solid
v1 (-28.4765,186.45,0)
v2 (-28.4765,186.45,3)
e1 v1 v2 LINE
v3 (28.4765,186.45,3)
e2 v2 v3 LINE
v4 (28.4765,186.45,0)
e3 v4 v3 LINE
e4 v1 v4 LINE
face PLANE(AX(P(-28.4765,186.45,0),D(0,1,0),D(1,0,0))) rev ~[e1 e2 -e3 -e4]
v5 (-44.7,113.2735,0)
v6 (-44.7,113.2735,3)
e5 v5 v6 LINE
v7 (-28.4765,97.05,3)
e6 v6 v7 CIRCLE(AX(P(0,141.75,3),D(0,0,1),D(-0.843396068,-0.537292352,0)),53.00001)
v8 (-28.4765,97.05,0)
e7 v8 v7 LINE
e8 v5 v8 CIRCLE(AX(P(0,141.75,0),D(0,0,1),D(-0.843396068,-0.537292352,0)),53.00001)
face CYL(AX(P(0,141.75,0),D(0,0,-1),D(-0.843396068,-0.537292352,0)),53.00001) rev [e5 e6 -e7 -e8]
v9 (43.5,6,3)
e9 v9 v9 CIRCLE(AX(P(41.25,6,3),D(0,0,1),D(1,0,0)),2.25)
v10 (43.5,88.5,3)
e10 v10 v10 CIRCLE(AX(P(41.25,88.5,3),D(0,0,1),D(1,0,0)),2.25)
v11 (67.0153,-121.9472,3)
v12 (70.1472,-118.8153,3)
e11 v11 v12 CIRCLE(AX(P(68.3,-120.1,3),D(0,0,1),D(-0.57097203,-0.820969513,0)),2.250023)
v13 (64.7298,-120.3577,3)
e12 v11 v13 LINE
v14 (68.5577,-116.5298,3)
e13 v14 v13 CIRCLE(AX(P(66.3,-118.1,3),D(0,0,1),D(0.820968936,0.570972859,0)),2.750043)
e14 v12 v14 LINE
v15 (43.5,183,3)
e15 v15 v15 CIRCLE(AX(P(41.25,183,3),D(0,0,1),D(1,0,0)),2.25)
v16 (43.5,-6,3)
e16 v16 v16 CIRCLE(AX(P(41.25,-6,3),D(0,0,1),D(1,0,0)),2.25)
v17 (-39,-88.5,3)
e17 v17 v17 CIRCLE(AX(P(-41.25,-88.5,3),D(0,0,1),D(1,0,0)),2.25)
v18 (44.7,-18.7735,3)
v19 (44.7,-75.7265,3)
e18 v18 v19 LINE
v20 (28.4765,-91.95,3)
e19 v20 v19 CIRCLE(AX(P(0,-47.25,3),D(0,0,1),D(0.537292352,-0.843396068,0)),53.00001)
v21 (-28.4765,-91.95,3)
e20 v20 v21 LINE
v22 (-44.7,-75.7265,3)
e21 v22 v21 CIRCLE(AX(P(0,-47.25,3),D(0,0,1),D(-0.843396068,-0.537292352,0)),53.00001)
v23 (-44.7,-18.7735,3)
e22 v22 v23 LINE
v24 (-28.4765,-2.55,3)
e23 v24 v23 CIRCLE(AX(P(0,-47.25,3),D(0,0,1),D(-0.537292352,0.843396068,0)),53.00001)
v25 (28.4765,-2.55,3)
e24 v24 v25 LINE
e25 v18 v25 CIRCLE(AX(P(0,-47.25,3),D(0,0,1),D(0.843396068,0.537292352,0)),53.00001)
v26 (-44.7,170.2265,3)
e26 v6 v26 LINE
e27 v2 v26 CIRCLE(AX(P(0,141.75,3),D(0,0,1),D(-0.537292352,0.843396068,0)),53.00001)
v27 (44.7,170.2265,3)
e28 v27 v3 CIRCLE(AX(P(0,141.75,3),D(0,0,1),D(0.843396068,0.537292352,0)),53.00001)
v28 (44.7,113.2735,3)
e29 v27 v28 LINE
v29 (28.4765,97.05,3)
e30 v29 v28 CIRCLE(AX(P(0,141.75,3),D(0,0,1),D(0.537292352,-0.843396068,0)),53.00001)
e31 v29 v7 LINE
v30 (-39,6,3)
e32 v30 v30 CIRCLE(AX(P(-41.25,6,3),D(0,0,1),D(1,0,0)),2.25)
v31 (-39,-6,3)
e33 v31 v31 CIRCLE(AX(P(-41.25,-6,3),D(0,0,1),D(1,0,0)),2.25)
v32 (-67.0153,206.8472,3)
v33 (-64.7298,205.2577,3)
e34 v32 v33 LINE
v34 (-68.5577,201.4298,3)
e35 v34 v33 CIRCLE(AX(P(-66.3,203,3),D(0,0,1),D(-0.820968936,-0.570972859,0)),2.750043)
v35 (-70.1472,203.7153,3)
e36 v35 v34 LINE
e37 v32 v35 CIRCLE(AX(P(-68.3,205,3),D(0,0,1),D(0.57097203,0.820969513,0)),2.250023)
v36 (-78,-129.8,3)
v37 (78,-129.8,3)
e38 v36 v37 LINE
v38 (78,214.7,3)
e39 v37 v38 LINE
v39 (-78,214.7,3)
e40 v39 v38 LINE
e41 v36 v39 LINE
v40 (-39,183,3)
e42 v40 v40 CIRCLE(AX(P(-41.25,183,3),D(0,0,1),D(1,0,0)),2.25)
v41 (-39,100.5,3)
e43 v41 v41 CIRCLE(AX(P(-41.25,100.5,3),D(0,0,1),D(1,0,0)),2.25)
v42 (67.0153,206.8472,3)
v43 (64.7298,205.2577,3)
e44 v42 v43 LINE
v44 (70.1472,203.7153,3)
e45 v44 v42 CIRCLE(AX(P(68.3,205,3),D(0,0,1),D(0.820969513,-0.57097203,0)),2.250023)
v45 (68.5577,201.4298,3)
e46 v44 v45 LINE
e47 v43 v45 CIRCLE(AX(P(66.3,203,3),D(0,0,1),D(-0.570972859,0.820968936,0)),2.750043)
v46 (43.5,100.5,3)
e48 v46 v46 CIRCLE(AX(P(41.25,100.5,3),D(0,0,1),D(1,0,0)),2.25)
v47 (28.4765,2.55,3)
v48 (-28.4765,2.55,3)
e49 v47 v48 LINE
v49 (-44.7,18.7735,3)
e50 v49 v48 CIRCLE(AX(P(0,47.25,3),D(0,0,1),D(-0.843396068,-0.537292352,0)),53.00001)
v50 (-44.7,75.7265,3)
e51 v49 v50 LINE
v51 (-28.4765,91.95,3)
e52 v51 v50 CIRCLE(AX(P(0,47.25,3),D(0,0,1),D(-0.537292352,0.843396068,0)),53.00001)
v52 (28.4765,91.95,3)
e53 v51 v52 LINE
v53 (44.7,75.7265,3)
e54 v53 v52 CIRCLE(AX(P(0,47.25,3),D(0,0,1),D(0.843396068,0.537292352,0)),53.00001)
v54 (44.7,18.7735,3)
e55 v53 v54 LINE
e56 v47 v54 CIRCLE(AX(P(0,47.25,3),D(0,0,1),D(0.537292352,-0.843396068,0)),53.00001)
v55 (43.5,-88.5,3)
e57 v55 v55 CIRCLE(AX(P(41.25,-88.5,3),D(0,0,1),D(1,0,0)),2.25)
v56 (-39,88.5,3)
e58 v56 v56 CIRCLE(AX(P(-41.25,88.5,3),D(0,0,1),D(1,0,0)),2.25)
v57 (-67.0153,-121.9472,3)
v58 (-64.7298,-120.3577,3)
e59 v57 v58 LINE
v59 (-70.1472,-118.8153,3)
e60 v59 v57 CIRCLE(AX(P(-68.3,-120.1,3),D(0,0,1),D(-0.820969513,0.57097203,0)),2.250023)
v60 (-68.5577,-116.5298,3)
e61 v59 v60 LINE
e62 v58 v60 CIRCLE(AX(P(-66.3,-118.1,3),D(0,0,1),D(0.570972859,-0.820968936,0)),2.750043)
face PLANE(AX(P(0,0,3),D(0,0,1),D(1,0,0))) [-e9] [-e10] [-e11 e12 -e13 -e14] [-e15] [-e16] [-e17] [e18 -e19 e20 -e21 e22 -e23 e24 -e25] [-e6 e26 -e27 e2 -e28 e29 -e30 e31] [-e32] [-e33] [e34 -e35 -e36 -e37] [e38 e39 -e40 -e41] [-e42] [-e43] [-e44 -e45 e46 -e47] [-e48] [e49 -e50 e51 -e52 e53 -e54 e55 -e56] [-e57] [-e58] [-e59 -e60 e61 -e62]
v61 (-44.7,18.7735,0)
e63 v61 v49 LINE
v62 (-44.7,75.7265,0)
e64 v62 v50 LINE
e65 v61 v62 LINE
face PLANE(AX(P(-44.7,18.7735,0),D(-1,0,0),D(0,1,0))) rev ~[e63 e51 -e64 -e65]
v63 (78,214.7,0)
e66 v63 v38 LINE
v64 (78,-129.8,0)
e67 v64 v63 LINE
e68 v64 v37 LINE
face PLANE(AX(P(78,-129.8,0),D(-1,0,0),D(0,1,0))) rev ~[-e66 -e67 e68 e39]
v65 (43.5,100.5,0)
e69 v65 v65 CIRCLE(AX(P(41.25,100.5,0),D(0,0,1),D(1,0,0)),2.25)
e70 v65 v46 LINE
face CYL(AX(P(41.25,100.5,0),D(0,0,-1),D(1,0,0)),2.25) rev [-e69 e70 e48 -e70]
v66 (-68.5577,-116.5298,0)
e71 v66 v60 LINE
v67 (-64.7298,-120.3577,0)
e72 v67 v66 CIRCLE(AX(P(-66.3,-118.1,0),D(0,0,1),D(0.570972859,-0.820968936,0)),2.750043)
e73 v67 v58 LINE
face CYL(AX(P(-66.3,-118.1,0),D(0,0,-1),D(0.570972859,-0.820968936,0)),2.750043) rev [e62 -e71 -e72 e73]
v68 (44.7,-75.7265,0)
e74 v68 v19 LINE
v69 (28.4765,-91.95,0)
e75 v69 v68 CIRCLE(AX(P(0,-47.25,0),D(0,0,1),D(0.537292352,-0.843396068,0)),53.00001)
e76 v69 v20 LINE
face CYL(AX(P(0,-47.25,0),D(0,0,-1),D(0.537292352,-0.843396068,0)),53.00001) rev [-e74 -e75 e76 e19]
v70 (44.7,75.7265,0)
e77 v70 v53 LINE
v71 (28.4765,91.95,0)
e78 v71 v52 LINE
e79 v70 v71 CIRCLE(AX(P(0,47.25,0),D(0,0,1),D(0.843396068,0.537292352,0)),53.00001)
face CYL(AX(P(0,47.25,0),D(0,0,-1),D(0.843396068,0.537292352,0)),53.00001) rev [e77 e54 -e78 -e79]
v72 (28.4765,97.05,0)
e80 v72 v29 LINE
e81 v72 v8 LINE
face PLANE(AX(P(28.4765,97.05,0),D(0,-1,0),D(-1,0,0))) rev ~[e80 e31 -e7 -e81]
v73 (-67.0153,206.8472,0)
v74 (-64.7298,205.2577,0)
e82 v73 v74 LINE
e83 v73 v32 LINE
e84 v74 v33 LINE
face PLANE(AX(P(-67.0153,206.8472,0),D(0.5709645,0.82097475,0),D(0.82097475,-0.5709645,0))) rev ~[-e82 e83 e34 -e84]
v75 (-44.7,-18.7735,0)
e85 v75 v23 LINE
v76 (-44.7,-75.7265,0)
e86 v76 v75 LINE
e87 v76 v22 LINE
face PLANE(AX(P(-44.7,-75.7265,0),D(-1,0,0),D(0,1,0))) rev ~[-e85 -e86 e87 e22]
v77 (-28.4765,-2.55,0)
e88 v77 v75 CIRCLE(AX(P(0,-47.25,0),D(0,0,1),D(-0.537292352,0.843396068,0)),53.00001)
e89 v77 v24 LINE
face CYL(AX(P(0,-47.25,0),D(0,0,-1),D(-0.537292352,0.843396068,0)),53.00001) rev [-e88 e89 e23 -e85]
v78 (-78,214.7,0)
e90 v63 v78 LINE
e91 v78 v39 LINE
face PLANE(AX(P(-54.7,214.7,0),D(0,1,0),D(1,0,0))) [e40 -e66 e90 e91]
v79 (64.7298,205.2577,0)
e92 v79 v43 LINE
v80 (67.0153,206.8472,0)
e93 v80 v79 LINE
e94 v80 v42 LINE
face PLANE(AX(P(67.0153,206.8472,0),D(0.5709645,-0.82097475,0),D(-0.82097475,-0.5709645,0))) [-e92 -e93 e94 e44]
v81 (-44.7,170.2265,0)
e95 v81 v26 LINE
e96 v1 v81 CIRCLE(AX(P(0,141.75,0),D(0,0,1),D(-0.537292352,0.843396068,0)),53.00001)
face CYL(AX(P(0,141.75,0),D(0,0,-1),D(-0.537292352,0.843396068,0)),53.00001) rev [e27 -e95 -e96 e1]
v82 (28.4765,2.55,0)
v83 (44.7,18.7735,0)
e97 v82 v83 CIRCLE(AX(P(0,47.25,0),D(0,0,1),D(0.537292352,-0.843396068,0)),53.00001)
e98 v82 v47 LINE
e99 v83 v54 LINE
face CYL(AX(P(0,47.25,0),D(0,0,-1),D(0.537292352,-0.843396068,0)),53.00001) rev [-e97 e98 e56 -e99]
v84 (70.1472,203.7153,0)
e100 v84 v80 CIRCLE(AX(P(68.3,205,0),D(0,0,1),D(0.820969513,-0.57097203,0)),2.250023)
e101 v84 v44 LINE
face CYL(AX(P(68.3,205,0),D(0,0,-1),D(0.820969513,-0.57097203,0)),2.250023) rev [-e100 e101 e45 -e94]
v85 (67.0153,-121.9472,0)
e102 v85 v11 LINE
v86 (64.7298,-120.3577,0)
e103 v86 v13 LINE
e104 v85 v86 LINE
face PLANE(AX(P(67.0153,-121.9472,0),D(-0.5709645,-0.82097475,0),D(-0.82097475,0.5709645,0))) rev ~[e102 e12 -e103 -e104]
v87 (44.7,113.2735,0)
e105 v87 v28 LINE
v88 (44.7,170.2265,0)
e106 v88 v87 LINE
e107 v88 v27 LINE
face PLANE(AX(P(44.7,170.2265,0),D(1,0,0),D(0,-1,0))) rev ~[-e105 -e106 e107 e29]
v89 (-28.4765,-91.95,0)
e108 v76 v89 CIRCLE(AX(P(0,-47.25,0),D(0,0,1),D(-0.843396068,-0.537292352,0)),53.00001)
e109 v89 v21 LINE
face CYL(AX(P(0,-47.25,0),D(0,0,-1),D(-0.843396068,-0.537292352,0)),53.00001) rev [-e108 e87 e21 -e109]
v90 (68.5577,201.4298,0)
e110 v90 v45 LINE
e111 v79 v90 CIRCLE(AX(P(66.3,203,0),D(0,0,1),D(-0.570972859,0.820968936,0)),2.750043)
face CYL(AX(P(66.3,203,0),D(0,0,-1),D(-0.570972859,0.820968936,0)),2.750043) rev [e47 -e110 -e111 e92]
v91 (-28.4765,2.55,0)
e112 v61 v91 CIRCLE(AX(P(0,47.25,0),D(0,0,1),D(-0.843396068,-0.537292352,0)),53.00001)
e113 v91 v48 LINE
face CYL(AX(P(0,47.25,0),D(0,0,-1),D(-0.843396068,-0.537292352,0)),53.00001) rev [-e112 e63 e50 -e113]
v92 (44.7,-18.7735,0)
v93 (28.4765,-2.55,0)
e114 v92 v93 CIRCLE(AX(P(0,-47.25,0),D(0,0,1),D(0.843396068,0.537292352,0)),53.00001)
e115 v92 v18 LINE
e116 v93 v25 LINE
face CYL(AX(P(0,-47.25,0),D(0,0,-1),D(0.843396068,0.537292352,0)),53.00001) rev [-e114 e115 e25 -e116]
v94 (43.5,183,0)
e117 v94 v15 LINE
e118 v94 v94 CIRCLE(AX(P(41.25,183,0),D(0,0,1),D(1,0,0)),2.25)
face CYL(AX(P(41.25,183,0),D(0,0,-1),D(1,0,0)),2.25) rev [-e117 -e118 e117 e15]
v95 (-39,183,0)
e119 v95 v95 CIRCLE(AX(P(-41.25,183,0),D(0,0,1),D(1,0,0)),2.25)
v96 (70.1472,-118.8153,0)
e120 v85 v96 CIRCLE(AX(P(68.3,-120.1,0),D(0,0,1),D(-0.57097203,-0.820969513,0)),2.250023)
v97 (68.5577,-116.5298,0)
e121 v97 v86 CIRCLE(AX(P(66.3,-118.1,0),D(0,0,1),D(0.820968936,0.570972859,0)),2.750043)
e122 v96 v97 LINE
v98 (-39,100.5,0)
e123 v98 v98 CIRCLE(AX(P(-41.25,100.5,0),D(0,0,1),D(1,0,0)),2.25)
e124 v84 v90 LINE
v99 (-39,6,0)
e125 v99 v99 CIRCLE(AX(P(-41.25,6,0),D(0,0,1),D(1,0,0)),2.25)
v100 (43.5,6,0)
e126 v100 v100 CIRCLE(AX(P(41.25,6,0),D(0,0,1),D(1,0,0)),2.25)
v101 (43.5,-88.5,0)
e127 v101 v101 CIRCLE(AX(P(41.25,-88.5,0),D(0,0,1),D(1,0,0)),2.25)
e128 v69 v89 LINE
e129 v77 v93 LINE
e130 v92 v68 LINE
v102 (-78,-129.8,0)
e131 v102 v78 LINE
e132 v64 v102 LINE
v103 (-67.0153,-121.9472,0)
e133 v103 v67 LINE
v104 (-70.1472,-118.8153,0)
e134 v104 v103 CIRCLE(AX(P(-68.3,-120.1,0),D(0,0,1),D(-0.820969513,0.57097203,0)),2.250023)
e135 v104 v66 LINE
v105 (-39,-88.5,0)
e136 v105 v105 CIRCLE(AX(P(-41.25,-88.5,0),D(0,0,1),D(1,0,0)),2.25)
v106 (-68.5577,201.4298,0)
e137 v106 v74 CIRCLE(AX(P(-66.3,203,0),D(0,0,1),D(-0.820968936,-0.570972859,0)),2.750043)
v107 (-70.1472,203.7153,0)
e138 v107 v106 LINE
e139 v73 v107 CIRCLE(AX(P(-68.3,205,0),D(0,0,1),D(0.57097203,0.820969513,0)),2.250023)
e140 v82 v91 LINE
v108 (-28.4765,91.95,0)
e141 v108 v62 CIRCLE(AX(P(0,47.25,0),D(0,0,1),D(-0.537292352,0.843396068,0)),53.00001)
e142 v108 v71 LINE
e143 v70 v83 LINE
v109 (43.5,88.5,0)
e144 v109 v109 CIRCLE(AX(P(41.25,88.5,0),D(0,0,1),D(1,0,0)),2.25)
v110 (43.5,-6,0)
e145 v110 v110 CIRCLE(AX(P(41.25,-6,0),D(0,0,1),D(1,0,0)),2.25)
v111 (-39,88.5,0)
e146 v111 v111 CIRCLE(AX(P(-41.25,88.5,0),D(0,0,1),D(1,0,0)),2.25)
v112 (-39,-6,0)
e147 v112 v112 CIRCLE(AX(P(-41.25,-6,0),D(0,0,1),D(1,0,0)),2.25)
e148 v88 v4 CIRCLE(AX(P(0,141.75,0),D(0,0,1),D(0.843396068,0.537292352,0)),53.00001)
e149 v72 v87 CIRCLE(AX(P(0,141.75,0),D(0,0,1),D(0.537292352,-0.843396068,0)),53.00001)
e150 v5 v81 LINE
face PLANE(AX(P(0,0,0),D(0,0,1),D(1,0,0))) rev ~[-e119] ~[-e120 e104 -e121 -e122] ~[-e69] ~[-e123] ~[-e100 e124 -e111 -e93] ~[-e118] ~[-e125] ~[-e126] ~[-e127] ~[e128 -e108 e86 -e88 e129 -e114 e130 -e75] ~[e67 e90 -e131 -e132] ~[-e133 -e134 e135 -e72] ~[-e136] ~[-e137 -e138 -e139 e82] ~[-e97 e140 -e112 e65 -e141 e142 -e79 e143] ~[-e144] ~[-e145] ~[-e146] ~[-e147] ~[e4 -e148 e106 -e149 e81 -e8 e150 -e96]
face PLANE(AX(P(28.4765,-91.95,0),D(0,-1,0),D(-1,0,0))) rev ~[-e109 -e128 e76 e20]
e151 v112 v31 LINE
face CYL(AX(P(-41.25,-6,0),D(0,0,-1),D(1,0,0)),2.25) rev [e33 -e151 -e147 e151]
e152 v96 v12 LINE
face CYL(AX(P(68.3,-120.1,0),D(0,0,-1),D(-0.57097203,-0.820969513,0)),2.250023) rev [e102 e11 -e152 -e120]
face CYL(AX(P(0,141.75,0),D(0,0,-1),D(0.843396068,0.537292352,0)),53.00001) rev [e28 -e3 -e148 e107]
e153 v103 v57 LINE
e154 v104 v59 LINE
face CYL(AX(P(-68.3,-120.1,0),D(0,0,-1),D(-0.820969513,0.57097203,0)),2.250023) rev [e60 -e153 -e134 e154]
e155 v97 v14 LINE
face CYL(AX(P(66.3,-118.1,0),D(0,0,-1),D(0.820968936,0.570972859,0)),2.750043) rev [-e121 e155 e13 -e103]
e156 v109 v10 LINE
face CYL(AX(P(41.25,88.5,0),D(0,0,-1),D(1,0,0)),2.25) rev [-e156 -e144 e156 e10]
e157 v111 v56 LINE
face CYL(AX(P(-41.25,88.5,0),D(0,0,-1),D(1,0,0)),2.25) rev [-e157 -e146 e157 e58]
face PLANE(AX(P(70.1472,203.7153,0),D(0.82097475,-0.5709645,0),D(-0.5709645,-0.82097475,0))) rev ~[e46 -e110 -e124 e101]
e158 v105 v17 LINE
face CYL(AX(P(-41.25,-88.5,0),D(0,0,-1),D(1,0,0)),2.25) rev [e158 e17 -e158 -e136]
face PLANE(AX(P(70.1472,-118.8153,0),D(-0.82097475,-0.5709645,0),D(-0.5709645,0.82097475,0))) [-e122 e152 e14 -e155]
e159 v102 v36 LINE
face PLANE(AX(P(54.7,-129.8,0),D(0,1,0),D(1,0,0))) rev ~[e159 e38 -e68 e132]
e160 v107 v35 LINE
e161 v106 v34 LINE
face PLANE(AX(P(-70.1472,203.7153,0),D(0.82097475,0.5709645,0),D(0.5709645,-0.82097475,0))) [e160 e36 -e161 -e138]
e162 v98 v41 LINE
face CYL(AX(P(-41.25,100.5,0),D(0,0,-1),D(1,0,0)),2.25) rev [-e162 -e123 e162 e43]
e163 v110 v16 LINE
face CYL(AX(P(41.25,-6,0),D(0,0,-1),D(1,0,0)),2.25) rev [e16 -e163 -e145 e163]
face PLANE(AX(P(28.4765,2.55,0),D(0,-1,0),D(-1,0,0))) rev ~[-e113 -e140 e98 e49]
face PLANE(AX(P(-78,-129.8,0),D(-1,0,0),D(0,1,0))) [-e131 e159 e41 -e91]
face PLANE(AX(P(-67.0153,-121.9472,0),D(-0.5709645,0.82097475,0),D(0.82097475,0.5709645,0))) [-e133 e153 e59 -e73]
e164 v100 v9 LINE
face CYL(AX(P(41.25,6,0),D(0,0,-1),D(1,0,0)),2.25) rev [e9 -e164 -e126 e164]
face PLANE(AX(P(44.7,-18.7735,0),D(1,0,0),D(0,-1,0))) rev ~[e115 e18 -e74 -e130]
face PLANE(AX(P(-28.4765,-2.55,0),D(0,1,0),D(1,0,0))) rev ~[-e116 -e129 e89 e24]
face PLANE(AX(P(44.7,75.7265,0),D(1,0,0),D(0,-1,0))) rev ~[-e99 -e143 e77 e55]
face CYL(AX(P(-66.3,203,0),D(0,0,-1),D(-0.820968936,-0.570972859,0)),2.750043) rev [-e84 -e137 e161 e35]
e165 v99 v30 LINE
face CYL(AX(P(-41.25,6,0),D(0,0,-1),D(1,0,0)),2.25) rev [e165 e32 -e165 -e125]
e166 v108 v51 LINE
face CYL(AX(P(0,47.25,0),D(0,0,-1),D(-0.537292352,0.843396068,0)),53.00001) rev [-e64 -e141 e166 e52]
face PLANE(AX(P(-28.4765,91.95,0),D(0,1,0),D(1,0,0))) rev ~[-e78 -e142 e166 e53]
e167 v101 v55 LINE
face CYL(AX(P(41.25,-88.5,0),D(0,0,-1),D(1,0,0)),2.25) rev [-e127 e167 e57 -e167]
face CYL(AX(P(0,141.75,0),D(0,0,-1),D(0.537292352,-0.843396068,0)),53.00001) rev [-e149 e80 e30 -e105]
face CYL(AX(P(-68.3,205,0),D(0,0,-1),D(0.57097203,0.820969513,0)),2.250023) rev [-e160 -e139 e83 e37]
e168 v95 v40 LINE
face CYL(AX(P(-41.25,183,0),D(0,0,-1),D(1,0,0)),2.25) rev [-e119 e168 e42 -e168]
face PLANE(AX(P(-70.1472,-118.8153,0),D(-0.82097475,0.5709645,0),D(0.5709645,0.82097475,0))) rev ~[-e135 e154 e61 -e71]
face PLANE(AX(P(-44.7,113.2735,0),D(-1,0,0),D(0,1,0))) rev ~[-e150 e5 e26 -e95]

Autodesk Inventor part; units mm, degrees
ref_plane "YZ Plane" through (0, 0, 0) normal (1, 0, 0) x (0, 1, 0)
ref_plane "XZ Plane" through (0, 0, 0) normal (0, 1, 0) x (-1, 0, 0)
ref_plane "XY Plane" through (0, 0, 0) normal (0, 0, 1) x (1, 0, 0)
sketch "Sketch1" plane through (0, 0, 0) normal (0, 0, 1) x (1, 0, 0)
  line L0 (-28.4765, -2.55) -> (28.4765, -2.55)
  arc A0 (44.7, -18.7735) -> (28.4765, -2.55) centre (0, -47.25) ccw
  line L1 (44.7, -18.7735) -> (44.7, -75.7265)
  arc A1 (28.4765, -91.95) -> (44.7, -75.7265) centre (0, -47.25) ccw
  line L2 (28.4765, -91.95) -> (-28.4765, -91.95)
  arc A2 (-44.7, -75.7265) -> (-28.4765, -91.95) centre (0, -47.25) ccw
  line L3 (-44.7, -75.7265) -> (-44.7, -18.7735)
  arc A3 (-28.4765, -2.55) -> (-44.7, -18.7735) centre (0, -47.25) ccw
  line L4 (-28.4765, 91.95) -> (28.4765, 91.95)
  arc A4 (44.7, 75.7265) -> (28.4765, 91.95) centre (0, 47.25) ccw
  line L5 (44.7, 75.7265) -> (44.7, 18.7735)
  arc A5 (28.4765, 2.55) -> (44.7, 18.7735) centre (0, 47.25) ccw
  line L6 (28.4765, 2.55) -> (-28.4765, 2.55)
  arc A6 (-44.7, 18.7735) -> (-28.4765, 2.55) centre (0, 47.25) ccw
  line L7 (-44.7, 18.7735) -> (-44.7, 75.7265)
  arc A7 (-28.4765, 91.95) -> (-44.7, 75.7265) centre (0, 47.25) ccw
  line L8 (-28.4765, 186.45) -> (28.4765, 186.45)
  arc A8 (44.7, 170.2265) -> (28.4765, 186.45) centre (0, 141.75) ccw
  line L9 (44.7, 170.2265) -> (44.7, 113.2735)
  arc A9 (28.4765, 97.05) -> (44.7, 113.2735) centre (0, 141.75) ccw
  line L10 (28.4765, 97.05) -> (-28.4765, 97.05)
  arc A10 (-44.7, 113.2735) -> (-28.4765, 97.05) centre (0, 141.75) ccw
  line L11 (-44.7, 113.2735) -> (-44.7, 170.2265)
  arc A11 (-28.4765, 186.45) -> (-44.7, 170.2265) centre (0, 141.75) ccw
  circle A12 centre (-41.25, -88.5) radius 2.25
  circle A13 centre (41.25, -88.5) radius 2.25
  circle A14 centre (41.25, -6) radius 2.25
  circle A15 centre (-41.25, -6) radius 2.25
  circle A16 centre (-41.25, 6) radius 2.25
  circle A17 centre (41.25, 6) radius 2.25
  circle A18 centre (41.25, 88.5) radius 2.25
  circle A19 centre (-41.25, 88.5) radius 2.25
  circle A20 centre (41.25, 183) radius 2.25
  circle A21 centre (41.25, 100.5) radius 2.25
  circle A22 centre (-41.25, 100.5) radius 2.25
  circle A23 centre (-41.25, 183) radius 2.25
  arc A24 (15.0245, 209.46) -> (15.0245, 194.54) centre (17.5, 202) ccw
  line L12 (15.0245, 209.46) -> (19.9755, 209.46)
  arc A25 (19.9755, 194.54) -> (19.9755, 209.46) centre (17.5, 202) ccw
  line L13 (19.9755, 194.54) -> (15.0245, 194.54)
  arc A26 (-15.0245, 194.54) -> (-15.0245, 209.46) centre (-17.5, 202) ccw
  line L14 (-15.0245, 194.54) -> (-19.9755, 194.54)
  arc A27 (-19.9755, 209.46) -> (-19.9755, 194.54) centre (-17.5, 202) ccw
  line L15 (-19.9755, 209.46) -> (-15.0245, 209.46)
  line L16 (-54.7, 214.7) -> (54.7, 214.7)
  line L17 (54.7, -129.8) -> (-54.7, -129.8)
  line L18 (-78, -129.8) -> (78, -129.8)
  line L19 (-78, -129.8) -> (-78, 214.7)
  arc A28 (-64.7298, -120.3577) -> (-68.5577, -116.5298) centre (-66.3, -118.1) ccw
  arc A29 (-70.1472, -118.8153) -> (-67.0153, -121.9472) centre (-68.3, -120.1) ccw
  line L20 (-67.0153, -121.9472) -> (-64.7298, -120.3577)
  line L21 (-70.1472, -118.8153) -> (-68.5577, -116.5298)
  arc A30 (68.5577, -116.5298) -> (64.7298, -120.3577) centre (66.3, -118.1) ccw
  arc A31 (67.0153, -121.9472) -> (70.1472, -118.8153) centre (68.3, -120.1) ccw
  line L22 (67.0153, -121.9472) -> (64.7298, -120.3577)
  line L23 (70.1472, -118.8153) -> (68.5577, -116.5298)
  line L24 (78, -129.8) -> (78, 214.7)
  arc A32 (-68.5577, 201.4298) -> (-64.7298, 205.2577) centre (-66.3, 203) ccw
  arc A33 (-67.0153, 206.8472) -> (-70.1472, 203.7153) centre (-68.3, 205) ccw
  line L25 (-67.0153, 206.8472) -> (-64.7298, 205.2577)
  line L26 (-70.1472, 203.7153) -> (-68.5577, 201.4298)
  line L27 (70.1472, 203.7153) -> (68.5577, 201.4298)
  arc A34 (64.7298, 205.2577) -> (68.5577, 201.4298) centre (66.3, 203) ccw
  line L28 (67.0153, 206.8472) -> (64.7298, 205.2577)
  arc A35 (70.1472, 203.7153) -> (67.0153, 206.8472) centre (68.3, 205) ccw
  line L29 (-78, 214.7) -> (78, 214.7)
  point P0 (-54.7, -129.8)
  point P1 (54.7, -129.8)
  point P2 (0, 205.2577)
  dimension "d197" = 156
  dimension "d199" = 344.5
  dimension "d221" = 344.5
  dimension "d224" = 9.7
  dimension "d225" = 9.7
  dimension "d228" = 11.7
  dimension "d229" = 11.7
  dimension "d232" = 5.5
  dimension "d233" = 4.5
extrude "Extrusion1" add sketch "Sketch1" along normal blind 3
sketch "Sketch2" plane through (0, 0, 3) normal (0, 0, 1) x (1, 0, 0)
  line L0 (28.4765, 97.05) -> (-28.4765, 97.05) projected
  arc A0 (-44.7, 113.2735) -> (-28.4765, 97.05) centre (0, 141.75) ccw projected
  line L1 (-44.7, 113.2735) -> (-44.7, 170.2265) projected
  arc A1 (-28.4765, 186.45) -> (-44.7, 170.2265) centre (0, 141.75) ccw projected
  line L2 (-28.4765, 186.45) -> (28.4765, 186.45) projected
  arc A2 (44.7, 170.2265) -> (28.4765, 186.45) centre (0, 141.75) ccw projected
  line L3 (44.7, 170.2265) -> (44.7, 113.2735) projected
  arc A3 (28.4765, 97.05) -> (44.7, 113.2735) centre (0, 141.75) ccw projected
  line L4 (44.7, 75.7265) -> (44.7, 18.7735) projected
  arc A4 (28.4765, 2.55) -> (44.7, 18.7735) centre (0, 47.25) ccw projected
  line L5 (28.4765, 2.55) -> (-28.4765, 2.55) projected
  arc A5 (-44.7, 18.7735) -> (-28.4765, 2.55) centre (0, 47.25) ccw projected
  line L6 (-44.7, 18.7735) -> (-44.7, 75.7265) projected
  arc A6 (-28.4765, 91.95) -> (-44.7, 75.7265) centre (0, 47.25) ccw projected
  line L7 (-28.4765, 91.95) -> (28.4765, 91.95) projected
  arc A7 (44.7, 75.7265) -> (28.4765, 91.95) centre (0, 47.25) ccw projected
  arc A8 (28.4765, -91.95) -> (44.7, -75.7265) centre (0, -47.25) ccw projected
  line L8 (28.4765, -91.95) -> (-28.4765, -91.95) projected
  arc A9 (-44.7, -75.7265) -> (-28.4765, -91.95) centre (0, -47.25) ccw projected
  line L9 (-44.7, -75.7265) -> (-44.7, -18.7735) projected
  arc A10 (-28.4765, -2.55) -> (-44.7, -18.7735) centre (0, -47.25) ccw projected
  line L10 (-28.4765, -2.55) -> (28.4765, -2.55) projected
  arc A11 (44.7, -18.7735) -> (28.4765, -2.55) centre (0, -47.25) ccw projected
  line L11 (44.7, -18.7735) -> (44.7, -75.7265) projected
  line L12 (-15.0245, 194.54) -> (-19.9755, 194.54) projected
  arc A12 (-19.9755, 209.46) -> (-19.9755, 194.54) centre (-17.5, 202) ccw projected
  line L13 (-19.9755, 209.46) -> (-15.0245, 209.46) projected
  arc A13 (-15.0245, 194.54) -> (-15.0245, 209.46) centre (-17.5, 202) ccw projected
  line L14 (15.0245, 209.46) -> (19.9755, 209.46) projected
  arc A14 (19.9755, 194.54) -> (19.9755, 209.46) centre (17.5, 202) ccw projected
  line L15 (19.9755, 194.54) -> (15.0245, 194.54) projected
  arc A15 (15.0245, 209.46) -> (15.0245, 194.54) centre (17.5, 202) ccw projected
  arc A16 (64.7298, 205.2577) -> (68.5577, 201.4298) centre (66.3, 203) ccw projected
  line L16 (64.7298, 205.2577) -> (67.0153, 206.8472) projected
  arc A17 (70.1472, 203.7153) -> (67.0153, 206.8472) centre (68.3, 205) ccw projected
  line L17 (70.1472, 203.7153) -> (68.5577, 201.4298) projected
  arc A18 (-67.0153, 206.8472) -> (-70.1472, 203.7153) centre (-68.3, 205) ccw projected
  line L18 (-67.0153, 206.8472) -> (-64.7298, 205.2577) projected
  arc A19 (-68.5577, 201.4298) -> (-64.7298, 205.2577) centre (-66.3, 203) ccw projected
  line L19 (-68.5577, 201.4298) -> (-70.1472, 203.7153) projected
  arc A20 (67.0153, -121.9472) -> (70.1472, -118.8153) centre (68.3, -120.1) ccw projected
  line L20 (67.0153, -121.9472) -> (64.7298, -120.3577) projected
  arc A21 (68.5577, -116.5298) -> (64.7298, -120.3577) centre (66.3, -118.1) ccw projected
  line L21 (68.5577, -116.5298) -> (70.1472, -118.8153) projected
  arc A22 (-64.7298, -120.3577) -> (-68.5577, -116.5298) centre (-66.3, -118.1) ccw projected
  line L22 (-64.7298, -120.3577) -> (-67.0153, -121.9472) projected
  arc A23 (-70.1472, -118.8153) -> (-67.0153, -121.9472) centre (-68.3, -120.1) ccw projected
  line L23 (-70.1472, -118.8153) -> (-68.5577, -116.5298) projected
  circle A24 centre (41.25, 6) radius 2.25 projected
  circle A25 centre (41.25, 100.5) radius 2.25 projected
  circle A26 centre (41.25, 88.5) radius 2.25 projected
  circle A27 centre (-41.25, 100.5) radius 2.25 projected
  circle A28 centre (-41.25, 88.5) radius 2.25 projected
  circle A29 centre (-41.25, 6) radius 2.25 projected
  circle A30 centre (-41.25, -6) radius 2.25 projected
  circle A31 centre (41.25, -6) radius 2.25 projected
  circle A32 centre (41.25, 183) radius 2.25 projected
  circle A33 centre (-41.25, 183) radius 2.25 projected
  circle A34 centre (41.25, -88.5) radius 2.25 projected
  circle A35 centre (-41.25, -88.5) radius 2.25 projected
  line L24 (-78, -129.8) -> (78, -129.8) projected
  line L25 (78, -129.8) -> (78, 214.7) projected
  line L26 (78, 214.7) -> (-78, 214.7) projected
  line L27 (-78, 214.7) -> (-78, -129.8) projected
  point P0 (0, 0)
extrude "Extrusion2" add sketch "Sketch2" against normal up to surface (3 mm away) contours L12 A12 L13 A13 | L14 A14 L15 A15
equation "\"d221\" = d199"
equation "\"d224\" = d222"
equation "\"d225\" = d223"
equation "\"d229\" = d228"
equation "\"d222\" = 9.7"
equation "\"d223\" = 9.7"
properties part number "front_panel2"
